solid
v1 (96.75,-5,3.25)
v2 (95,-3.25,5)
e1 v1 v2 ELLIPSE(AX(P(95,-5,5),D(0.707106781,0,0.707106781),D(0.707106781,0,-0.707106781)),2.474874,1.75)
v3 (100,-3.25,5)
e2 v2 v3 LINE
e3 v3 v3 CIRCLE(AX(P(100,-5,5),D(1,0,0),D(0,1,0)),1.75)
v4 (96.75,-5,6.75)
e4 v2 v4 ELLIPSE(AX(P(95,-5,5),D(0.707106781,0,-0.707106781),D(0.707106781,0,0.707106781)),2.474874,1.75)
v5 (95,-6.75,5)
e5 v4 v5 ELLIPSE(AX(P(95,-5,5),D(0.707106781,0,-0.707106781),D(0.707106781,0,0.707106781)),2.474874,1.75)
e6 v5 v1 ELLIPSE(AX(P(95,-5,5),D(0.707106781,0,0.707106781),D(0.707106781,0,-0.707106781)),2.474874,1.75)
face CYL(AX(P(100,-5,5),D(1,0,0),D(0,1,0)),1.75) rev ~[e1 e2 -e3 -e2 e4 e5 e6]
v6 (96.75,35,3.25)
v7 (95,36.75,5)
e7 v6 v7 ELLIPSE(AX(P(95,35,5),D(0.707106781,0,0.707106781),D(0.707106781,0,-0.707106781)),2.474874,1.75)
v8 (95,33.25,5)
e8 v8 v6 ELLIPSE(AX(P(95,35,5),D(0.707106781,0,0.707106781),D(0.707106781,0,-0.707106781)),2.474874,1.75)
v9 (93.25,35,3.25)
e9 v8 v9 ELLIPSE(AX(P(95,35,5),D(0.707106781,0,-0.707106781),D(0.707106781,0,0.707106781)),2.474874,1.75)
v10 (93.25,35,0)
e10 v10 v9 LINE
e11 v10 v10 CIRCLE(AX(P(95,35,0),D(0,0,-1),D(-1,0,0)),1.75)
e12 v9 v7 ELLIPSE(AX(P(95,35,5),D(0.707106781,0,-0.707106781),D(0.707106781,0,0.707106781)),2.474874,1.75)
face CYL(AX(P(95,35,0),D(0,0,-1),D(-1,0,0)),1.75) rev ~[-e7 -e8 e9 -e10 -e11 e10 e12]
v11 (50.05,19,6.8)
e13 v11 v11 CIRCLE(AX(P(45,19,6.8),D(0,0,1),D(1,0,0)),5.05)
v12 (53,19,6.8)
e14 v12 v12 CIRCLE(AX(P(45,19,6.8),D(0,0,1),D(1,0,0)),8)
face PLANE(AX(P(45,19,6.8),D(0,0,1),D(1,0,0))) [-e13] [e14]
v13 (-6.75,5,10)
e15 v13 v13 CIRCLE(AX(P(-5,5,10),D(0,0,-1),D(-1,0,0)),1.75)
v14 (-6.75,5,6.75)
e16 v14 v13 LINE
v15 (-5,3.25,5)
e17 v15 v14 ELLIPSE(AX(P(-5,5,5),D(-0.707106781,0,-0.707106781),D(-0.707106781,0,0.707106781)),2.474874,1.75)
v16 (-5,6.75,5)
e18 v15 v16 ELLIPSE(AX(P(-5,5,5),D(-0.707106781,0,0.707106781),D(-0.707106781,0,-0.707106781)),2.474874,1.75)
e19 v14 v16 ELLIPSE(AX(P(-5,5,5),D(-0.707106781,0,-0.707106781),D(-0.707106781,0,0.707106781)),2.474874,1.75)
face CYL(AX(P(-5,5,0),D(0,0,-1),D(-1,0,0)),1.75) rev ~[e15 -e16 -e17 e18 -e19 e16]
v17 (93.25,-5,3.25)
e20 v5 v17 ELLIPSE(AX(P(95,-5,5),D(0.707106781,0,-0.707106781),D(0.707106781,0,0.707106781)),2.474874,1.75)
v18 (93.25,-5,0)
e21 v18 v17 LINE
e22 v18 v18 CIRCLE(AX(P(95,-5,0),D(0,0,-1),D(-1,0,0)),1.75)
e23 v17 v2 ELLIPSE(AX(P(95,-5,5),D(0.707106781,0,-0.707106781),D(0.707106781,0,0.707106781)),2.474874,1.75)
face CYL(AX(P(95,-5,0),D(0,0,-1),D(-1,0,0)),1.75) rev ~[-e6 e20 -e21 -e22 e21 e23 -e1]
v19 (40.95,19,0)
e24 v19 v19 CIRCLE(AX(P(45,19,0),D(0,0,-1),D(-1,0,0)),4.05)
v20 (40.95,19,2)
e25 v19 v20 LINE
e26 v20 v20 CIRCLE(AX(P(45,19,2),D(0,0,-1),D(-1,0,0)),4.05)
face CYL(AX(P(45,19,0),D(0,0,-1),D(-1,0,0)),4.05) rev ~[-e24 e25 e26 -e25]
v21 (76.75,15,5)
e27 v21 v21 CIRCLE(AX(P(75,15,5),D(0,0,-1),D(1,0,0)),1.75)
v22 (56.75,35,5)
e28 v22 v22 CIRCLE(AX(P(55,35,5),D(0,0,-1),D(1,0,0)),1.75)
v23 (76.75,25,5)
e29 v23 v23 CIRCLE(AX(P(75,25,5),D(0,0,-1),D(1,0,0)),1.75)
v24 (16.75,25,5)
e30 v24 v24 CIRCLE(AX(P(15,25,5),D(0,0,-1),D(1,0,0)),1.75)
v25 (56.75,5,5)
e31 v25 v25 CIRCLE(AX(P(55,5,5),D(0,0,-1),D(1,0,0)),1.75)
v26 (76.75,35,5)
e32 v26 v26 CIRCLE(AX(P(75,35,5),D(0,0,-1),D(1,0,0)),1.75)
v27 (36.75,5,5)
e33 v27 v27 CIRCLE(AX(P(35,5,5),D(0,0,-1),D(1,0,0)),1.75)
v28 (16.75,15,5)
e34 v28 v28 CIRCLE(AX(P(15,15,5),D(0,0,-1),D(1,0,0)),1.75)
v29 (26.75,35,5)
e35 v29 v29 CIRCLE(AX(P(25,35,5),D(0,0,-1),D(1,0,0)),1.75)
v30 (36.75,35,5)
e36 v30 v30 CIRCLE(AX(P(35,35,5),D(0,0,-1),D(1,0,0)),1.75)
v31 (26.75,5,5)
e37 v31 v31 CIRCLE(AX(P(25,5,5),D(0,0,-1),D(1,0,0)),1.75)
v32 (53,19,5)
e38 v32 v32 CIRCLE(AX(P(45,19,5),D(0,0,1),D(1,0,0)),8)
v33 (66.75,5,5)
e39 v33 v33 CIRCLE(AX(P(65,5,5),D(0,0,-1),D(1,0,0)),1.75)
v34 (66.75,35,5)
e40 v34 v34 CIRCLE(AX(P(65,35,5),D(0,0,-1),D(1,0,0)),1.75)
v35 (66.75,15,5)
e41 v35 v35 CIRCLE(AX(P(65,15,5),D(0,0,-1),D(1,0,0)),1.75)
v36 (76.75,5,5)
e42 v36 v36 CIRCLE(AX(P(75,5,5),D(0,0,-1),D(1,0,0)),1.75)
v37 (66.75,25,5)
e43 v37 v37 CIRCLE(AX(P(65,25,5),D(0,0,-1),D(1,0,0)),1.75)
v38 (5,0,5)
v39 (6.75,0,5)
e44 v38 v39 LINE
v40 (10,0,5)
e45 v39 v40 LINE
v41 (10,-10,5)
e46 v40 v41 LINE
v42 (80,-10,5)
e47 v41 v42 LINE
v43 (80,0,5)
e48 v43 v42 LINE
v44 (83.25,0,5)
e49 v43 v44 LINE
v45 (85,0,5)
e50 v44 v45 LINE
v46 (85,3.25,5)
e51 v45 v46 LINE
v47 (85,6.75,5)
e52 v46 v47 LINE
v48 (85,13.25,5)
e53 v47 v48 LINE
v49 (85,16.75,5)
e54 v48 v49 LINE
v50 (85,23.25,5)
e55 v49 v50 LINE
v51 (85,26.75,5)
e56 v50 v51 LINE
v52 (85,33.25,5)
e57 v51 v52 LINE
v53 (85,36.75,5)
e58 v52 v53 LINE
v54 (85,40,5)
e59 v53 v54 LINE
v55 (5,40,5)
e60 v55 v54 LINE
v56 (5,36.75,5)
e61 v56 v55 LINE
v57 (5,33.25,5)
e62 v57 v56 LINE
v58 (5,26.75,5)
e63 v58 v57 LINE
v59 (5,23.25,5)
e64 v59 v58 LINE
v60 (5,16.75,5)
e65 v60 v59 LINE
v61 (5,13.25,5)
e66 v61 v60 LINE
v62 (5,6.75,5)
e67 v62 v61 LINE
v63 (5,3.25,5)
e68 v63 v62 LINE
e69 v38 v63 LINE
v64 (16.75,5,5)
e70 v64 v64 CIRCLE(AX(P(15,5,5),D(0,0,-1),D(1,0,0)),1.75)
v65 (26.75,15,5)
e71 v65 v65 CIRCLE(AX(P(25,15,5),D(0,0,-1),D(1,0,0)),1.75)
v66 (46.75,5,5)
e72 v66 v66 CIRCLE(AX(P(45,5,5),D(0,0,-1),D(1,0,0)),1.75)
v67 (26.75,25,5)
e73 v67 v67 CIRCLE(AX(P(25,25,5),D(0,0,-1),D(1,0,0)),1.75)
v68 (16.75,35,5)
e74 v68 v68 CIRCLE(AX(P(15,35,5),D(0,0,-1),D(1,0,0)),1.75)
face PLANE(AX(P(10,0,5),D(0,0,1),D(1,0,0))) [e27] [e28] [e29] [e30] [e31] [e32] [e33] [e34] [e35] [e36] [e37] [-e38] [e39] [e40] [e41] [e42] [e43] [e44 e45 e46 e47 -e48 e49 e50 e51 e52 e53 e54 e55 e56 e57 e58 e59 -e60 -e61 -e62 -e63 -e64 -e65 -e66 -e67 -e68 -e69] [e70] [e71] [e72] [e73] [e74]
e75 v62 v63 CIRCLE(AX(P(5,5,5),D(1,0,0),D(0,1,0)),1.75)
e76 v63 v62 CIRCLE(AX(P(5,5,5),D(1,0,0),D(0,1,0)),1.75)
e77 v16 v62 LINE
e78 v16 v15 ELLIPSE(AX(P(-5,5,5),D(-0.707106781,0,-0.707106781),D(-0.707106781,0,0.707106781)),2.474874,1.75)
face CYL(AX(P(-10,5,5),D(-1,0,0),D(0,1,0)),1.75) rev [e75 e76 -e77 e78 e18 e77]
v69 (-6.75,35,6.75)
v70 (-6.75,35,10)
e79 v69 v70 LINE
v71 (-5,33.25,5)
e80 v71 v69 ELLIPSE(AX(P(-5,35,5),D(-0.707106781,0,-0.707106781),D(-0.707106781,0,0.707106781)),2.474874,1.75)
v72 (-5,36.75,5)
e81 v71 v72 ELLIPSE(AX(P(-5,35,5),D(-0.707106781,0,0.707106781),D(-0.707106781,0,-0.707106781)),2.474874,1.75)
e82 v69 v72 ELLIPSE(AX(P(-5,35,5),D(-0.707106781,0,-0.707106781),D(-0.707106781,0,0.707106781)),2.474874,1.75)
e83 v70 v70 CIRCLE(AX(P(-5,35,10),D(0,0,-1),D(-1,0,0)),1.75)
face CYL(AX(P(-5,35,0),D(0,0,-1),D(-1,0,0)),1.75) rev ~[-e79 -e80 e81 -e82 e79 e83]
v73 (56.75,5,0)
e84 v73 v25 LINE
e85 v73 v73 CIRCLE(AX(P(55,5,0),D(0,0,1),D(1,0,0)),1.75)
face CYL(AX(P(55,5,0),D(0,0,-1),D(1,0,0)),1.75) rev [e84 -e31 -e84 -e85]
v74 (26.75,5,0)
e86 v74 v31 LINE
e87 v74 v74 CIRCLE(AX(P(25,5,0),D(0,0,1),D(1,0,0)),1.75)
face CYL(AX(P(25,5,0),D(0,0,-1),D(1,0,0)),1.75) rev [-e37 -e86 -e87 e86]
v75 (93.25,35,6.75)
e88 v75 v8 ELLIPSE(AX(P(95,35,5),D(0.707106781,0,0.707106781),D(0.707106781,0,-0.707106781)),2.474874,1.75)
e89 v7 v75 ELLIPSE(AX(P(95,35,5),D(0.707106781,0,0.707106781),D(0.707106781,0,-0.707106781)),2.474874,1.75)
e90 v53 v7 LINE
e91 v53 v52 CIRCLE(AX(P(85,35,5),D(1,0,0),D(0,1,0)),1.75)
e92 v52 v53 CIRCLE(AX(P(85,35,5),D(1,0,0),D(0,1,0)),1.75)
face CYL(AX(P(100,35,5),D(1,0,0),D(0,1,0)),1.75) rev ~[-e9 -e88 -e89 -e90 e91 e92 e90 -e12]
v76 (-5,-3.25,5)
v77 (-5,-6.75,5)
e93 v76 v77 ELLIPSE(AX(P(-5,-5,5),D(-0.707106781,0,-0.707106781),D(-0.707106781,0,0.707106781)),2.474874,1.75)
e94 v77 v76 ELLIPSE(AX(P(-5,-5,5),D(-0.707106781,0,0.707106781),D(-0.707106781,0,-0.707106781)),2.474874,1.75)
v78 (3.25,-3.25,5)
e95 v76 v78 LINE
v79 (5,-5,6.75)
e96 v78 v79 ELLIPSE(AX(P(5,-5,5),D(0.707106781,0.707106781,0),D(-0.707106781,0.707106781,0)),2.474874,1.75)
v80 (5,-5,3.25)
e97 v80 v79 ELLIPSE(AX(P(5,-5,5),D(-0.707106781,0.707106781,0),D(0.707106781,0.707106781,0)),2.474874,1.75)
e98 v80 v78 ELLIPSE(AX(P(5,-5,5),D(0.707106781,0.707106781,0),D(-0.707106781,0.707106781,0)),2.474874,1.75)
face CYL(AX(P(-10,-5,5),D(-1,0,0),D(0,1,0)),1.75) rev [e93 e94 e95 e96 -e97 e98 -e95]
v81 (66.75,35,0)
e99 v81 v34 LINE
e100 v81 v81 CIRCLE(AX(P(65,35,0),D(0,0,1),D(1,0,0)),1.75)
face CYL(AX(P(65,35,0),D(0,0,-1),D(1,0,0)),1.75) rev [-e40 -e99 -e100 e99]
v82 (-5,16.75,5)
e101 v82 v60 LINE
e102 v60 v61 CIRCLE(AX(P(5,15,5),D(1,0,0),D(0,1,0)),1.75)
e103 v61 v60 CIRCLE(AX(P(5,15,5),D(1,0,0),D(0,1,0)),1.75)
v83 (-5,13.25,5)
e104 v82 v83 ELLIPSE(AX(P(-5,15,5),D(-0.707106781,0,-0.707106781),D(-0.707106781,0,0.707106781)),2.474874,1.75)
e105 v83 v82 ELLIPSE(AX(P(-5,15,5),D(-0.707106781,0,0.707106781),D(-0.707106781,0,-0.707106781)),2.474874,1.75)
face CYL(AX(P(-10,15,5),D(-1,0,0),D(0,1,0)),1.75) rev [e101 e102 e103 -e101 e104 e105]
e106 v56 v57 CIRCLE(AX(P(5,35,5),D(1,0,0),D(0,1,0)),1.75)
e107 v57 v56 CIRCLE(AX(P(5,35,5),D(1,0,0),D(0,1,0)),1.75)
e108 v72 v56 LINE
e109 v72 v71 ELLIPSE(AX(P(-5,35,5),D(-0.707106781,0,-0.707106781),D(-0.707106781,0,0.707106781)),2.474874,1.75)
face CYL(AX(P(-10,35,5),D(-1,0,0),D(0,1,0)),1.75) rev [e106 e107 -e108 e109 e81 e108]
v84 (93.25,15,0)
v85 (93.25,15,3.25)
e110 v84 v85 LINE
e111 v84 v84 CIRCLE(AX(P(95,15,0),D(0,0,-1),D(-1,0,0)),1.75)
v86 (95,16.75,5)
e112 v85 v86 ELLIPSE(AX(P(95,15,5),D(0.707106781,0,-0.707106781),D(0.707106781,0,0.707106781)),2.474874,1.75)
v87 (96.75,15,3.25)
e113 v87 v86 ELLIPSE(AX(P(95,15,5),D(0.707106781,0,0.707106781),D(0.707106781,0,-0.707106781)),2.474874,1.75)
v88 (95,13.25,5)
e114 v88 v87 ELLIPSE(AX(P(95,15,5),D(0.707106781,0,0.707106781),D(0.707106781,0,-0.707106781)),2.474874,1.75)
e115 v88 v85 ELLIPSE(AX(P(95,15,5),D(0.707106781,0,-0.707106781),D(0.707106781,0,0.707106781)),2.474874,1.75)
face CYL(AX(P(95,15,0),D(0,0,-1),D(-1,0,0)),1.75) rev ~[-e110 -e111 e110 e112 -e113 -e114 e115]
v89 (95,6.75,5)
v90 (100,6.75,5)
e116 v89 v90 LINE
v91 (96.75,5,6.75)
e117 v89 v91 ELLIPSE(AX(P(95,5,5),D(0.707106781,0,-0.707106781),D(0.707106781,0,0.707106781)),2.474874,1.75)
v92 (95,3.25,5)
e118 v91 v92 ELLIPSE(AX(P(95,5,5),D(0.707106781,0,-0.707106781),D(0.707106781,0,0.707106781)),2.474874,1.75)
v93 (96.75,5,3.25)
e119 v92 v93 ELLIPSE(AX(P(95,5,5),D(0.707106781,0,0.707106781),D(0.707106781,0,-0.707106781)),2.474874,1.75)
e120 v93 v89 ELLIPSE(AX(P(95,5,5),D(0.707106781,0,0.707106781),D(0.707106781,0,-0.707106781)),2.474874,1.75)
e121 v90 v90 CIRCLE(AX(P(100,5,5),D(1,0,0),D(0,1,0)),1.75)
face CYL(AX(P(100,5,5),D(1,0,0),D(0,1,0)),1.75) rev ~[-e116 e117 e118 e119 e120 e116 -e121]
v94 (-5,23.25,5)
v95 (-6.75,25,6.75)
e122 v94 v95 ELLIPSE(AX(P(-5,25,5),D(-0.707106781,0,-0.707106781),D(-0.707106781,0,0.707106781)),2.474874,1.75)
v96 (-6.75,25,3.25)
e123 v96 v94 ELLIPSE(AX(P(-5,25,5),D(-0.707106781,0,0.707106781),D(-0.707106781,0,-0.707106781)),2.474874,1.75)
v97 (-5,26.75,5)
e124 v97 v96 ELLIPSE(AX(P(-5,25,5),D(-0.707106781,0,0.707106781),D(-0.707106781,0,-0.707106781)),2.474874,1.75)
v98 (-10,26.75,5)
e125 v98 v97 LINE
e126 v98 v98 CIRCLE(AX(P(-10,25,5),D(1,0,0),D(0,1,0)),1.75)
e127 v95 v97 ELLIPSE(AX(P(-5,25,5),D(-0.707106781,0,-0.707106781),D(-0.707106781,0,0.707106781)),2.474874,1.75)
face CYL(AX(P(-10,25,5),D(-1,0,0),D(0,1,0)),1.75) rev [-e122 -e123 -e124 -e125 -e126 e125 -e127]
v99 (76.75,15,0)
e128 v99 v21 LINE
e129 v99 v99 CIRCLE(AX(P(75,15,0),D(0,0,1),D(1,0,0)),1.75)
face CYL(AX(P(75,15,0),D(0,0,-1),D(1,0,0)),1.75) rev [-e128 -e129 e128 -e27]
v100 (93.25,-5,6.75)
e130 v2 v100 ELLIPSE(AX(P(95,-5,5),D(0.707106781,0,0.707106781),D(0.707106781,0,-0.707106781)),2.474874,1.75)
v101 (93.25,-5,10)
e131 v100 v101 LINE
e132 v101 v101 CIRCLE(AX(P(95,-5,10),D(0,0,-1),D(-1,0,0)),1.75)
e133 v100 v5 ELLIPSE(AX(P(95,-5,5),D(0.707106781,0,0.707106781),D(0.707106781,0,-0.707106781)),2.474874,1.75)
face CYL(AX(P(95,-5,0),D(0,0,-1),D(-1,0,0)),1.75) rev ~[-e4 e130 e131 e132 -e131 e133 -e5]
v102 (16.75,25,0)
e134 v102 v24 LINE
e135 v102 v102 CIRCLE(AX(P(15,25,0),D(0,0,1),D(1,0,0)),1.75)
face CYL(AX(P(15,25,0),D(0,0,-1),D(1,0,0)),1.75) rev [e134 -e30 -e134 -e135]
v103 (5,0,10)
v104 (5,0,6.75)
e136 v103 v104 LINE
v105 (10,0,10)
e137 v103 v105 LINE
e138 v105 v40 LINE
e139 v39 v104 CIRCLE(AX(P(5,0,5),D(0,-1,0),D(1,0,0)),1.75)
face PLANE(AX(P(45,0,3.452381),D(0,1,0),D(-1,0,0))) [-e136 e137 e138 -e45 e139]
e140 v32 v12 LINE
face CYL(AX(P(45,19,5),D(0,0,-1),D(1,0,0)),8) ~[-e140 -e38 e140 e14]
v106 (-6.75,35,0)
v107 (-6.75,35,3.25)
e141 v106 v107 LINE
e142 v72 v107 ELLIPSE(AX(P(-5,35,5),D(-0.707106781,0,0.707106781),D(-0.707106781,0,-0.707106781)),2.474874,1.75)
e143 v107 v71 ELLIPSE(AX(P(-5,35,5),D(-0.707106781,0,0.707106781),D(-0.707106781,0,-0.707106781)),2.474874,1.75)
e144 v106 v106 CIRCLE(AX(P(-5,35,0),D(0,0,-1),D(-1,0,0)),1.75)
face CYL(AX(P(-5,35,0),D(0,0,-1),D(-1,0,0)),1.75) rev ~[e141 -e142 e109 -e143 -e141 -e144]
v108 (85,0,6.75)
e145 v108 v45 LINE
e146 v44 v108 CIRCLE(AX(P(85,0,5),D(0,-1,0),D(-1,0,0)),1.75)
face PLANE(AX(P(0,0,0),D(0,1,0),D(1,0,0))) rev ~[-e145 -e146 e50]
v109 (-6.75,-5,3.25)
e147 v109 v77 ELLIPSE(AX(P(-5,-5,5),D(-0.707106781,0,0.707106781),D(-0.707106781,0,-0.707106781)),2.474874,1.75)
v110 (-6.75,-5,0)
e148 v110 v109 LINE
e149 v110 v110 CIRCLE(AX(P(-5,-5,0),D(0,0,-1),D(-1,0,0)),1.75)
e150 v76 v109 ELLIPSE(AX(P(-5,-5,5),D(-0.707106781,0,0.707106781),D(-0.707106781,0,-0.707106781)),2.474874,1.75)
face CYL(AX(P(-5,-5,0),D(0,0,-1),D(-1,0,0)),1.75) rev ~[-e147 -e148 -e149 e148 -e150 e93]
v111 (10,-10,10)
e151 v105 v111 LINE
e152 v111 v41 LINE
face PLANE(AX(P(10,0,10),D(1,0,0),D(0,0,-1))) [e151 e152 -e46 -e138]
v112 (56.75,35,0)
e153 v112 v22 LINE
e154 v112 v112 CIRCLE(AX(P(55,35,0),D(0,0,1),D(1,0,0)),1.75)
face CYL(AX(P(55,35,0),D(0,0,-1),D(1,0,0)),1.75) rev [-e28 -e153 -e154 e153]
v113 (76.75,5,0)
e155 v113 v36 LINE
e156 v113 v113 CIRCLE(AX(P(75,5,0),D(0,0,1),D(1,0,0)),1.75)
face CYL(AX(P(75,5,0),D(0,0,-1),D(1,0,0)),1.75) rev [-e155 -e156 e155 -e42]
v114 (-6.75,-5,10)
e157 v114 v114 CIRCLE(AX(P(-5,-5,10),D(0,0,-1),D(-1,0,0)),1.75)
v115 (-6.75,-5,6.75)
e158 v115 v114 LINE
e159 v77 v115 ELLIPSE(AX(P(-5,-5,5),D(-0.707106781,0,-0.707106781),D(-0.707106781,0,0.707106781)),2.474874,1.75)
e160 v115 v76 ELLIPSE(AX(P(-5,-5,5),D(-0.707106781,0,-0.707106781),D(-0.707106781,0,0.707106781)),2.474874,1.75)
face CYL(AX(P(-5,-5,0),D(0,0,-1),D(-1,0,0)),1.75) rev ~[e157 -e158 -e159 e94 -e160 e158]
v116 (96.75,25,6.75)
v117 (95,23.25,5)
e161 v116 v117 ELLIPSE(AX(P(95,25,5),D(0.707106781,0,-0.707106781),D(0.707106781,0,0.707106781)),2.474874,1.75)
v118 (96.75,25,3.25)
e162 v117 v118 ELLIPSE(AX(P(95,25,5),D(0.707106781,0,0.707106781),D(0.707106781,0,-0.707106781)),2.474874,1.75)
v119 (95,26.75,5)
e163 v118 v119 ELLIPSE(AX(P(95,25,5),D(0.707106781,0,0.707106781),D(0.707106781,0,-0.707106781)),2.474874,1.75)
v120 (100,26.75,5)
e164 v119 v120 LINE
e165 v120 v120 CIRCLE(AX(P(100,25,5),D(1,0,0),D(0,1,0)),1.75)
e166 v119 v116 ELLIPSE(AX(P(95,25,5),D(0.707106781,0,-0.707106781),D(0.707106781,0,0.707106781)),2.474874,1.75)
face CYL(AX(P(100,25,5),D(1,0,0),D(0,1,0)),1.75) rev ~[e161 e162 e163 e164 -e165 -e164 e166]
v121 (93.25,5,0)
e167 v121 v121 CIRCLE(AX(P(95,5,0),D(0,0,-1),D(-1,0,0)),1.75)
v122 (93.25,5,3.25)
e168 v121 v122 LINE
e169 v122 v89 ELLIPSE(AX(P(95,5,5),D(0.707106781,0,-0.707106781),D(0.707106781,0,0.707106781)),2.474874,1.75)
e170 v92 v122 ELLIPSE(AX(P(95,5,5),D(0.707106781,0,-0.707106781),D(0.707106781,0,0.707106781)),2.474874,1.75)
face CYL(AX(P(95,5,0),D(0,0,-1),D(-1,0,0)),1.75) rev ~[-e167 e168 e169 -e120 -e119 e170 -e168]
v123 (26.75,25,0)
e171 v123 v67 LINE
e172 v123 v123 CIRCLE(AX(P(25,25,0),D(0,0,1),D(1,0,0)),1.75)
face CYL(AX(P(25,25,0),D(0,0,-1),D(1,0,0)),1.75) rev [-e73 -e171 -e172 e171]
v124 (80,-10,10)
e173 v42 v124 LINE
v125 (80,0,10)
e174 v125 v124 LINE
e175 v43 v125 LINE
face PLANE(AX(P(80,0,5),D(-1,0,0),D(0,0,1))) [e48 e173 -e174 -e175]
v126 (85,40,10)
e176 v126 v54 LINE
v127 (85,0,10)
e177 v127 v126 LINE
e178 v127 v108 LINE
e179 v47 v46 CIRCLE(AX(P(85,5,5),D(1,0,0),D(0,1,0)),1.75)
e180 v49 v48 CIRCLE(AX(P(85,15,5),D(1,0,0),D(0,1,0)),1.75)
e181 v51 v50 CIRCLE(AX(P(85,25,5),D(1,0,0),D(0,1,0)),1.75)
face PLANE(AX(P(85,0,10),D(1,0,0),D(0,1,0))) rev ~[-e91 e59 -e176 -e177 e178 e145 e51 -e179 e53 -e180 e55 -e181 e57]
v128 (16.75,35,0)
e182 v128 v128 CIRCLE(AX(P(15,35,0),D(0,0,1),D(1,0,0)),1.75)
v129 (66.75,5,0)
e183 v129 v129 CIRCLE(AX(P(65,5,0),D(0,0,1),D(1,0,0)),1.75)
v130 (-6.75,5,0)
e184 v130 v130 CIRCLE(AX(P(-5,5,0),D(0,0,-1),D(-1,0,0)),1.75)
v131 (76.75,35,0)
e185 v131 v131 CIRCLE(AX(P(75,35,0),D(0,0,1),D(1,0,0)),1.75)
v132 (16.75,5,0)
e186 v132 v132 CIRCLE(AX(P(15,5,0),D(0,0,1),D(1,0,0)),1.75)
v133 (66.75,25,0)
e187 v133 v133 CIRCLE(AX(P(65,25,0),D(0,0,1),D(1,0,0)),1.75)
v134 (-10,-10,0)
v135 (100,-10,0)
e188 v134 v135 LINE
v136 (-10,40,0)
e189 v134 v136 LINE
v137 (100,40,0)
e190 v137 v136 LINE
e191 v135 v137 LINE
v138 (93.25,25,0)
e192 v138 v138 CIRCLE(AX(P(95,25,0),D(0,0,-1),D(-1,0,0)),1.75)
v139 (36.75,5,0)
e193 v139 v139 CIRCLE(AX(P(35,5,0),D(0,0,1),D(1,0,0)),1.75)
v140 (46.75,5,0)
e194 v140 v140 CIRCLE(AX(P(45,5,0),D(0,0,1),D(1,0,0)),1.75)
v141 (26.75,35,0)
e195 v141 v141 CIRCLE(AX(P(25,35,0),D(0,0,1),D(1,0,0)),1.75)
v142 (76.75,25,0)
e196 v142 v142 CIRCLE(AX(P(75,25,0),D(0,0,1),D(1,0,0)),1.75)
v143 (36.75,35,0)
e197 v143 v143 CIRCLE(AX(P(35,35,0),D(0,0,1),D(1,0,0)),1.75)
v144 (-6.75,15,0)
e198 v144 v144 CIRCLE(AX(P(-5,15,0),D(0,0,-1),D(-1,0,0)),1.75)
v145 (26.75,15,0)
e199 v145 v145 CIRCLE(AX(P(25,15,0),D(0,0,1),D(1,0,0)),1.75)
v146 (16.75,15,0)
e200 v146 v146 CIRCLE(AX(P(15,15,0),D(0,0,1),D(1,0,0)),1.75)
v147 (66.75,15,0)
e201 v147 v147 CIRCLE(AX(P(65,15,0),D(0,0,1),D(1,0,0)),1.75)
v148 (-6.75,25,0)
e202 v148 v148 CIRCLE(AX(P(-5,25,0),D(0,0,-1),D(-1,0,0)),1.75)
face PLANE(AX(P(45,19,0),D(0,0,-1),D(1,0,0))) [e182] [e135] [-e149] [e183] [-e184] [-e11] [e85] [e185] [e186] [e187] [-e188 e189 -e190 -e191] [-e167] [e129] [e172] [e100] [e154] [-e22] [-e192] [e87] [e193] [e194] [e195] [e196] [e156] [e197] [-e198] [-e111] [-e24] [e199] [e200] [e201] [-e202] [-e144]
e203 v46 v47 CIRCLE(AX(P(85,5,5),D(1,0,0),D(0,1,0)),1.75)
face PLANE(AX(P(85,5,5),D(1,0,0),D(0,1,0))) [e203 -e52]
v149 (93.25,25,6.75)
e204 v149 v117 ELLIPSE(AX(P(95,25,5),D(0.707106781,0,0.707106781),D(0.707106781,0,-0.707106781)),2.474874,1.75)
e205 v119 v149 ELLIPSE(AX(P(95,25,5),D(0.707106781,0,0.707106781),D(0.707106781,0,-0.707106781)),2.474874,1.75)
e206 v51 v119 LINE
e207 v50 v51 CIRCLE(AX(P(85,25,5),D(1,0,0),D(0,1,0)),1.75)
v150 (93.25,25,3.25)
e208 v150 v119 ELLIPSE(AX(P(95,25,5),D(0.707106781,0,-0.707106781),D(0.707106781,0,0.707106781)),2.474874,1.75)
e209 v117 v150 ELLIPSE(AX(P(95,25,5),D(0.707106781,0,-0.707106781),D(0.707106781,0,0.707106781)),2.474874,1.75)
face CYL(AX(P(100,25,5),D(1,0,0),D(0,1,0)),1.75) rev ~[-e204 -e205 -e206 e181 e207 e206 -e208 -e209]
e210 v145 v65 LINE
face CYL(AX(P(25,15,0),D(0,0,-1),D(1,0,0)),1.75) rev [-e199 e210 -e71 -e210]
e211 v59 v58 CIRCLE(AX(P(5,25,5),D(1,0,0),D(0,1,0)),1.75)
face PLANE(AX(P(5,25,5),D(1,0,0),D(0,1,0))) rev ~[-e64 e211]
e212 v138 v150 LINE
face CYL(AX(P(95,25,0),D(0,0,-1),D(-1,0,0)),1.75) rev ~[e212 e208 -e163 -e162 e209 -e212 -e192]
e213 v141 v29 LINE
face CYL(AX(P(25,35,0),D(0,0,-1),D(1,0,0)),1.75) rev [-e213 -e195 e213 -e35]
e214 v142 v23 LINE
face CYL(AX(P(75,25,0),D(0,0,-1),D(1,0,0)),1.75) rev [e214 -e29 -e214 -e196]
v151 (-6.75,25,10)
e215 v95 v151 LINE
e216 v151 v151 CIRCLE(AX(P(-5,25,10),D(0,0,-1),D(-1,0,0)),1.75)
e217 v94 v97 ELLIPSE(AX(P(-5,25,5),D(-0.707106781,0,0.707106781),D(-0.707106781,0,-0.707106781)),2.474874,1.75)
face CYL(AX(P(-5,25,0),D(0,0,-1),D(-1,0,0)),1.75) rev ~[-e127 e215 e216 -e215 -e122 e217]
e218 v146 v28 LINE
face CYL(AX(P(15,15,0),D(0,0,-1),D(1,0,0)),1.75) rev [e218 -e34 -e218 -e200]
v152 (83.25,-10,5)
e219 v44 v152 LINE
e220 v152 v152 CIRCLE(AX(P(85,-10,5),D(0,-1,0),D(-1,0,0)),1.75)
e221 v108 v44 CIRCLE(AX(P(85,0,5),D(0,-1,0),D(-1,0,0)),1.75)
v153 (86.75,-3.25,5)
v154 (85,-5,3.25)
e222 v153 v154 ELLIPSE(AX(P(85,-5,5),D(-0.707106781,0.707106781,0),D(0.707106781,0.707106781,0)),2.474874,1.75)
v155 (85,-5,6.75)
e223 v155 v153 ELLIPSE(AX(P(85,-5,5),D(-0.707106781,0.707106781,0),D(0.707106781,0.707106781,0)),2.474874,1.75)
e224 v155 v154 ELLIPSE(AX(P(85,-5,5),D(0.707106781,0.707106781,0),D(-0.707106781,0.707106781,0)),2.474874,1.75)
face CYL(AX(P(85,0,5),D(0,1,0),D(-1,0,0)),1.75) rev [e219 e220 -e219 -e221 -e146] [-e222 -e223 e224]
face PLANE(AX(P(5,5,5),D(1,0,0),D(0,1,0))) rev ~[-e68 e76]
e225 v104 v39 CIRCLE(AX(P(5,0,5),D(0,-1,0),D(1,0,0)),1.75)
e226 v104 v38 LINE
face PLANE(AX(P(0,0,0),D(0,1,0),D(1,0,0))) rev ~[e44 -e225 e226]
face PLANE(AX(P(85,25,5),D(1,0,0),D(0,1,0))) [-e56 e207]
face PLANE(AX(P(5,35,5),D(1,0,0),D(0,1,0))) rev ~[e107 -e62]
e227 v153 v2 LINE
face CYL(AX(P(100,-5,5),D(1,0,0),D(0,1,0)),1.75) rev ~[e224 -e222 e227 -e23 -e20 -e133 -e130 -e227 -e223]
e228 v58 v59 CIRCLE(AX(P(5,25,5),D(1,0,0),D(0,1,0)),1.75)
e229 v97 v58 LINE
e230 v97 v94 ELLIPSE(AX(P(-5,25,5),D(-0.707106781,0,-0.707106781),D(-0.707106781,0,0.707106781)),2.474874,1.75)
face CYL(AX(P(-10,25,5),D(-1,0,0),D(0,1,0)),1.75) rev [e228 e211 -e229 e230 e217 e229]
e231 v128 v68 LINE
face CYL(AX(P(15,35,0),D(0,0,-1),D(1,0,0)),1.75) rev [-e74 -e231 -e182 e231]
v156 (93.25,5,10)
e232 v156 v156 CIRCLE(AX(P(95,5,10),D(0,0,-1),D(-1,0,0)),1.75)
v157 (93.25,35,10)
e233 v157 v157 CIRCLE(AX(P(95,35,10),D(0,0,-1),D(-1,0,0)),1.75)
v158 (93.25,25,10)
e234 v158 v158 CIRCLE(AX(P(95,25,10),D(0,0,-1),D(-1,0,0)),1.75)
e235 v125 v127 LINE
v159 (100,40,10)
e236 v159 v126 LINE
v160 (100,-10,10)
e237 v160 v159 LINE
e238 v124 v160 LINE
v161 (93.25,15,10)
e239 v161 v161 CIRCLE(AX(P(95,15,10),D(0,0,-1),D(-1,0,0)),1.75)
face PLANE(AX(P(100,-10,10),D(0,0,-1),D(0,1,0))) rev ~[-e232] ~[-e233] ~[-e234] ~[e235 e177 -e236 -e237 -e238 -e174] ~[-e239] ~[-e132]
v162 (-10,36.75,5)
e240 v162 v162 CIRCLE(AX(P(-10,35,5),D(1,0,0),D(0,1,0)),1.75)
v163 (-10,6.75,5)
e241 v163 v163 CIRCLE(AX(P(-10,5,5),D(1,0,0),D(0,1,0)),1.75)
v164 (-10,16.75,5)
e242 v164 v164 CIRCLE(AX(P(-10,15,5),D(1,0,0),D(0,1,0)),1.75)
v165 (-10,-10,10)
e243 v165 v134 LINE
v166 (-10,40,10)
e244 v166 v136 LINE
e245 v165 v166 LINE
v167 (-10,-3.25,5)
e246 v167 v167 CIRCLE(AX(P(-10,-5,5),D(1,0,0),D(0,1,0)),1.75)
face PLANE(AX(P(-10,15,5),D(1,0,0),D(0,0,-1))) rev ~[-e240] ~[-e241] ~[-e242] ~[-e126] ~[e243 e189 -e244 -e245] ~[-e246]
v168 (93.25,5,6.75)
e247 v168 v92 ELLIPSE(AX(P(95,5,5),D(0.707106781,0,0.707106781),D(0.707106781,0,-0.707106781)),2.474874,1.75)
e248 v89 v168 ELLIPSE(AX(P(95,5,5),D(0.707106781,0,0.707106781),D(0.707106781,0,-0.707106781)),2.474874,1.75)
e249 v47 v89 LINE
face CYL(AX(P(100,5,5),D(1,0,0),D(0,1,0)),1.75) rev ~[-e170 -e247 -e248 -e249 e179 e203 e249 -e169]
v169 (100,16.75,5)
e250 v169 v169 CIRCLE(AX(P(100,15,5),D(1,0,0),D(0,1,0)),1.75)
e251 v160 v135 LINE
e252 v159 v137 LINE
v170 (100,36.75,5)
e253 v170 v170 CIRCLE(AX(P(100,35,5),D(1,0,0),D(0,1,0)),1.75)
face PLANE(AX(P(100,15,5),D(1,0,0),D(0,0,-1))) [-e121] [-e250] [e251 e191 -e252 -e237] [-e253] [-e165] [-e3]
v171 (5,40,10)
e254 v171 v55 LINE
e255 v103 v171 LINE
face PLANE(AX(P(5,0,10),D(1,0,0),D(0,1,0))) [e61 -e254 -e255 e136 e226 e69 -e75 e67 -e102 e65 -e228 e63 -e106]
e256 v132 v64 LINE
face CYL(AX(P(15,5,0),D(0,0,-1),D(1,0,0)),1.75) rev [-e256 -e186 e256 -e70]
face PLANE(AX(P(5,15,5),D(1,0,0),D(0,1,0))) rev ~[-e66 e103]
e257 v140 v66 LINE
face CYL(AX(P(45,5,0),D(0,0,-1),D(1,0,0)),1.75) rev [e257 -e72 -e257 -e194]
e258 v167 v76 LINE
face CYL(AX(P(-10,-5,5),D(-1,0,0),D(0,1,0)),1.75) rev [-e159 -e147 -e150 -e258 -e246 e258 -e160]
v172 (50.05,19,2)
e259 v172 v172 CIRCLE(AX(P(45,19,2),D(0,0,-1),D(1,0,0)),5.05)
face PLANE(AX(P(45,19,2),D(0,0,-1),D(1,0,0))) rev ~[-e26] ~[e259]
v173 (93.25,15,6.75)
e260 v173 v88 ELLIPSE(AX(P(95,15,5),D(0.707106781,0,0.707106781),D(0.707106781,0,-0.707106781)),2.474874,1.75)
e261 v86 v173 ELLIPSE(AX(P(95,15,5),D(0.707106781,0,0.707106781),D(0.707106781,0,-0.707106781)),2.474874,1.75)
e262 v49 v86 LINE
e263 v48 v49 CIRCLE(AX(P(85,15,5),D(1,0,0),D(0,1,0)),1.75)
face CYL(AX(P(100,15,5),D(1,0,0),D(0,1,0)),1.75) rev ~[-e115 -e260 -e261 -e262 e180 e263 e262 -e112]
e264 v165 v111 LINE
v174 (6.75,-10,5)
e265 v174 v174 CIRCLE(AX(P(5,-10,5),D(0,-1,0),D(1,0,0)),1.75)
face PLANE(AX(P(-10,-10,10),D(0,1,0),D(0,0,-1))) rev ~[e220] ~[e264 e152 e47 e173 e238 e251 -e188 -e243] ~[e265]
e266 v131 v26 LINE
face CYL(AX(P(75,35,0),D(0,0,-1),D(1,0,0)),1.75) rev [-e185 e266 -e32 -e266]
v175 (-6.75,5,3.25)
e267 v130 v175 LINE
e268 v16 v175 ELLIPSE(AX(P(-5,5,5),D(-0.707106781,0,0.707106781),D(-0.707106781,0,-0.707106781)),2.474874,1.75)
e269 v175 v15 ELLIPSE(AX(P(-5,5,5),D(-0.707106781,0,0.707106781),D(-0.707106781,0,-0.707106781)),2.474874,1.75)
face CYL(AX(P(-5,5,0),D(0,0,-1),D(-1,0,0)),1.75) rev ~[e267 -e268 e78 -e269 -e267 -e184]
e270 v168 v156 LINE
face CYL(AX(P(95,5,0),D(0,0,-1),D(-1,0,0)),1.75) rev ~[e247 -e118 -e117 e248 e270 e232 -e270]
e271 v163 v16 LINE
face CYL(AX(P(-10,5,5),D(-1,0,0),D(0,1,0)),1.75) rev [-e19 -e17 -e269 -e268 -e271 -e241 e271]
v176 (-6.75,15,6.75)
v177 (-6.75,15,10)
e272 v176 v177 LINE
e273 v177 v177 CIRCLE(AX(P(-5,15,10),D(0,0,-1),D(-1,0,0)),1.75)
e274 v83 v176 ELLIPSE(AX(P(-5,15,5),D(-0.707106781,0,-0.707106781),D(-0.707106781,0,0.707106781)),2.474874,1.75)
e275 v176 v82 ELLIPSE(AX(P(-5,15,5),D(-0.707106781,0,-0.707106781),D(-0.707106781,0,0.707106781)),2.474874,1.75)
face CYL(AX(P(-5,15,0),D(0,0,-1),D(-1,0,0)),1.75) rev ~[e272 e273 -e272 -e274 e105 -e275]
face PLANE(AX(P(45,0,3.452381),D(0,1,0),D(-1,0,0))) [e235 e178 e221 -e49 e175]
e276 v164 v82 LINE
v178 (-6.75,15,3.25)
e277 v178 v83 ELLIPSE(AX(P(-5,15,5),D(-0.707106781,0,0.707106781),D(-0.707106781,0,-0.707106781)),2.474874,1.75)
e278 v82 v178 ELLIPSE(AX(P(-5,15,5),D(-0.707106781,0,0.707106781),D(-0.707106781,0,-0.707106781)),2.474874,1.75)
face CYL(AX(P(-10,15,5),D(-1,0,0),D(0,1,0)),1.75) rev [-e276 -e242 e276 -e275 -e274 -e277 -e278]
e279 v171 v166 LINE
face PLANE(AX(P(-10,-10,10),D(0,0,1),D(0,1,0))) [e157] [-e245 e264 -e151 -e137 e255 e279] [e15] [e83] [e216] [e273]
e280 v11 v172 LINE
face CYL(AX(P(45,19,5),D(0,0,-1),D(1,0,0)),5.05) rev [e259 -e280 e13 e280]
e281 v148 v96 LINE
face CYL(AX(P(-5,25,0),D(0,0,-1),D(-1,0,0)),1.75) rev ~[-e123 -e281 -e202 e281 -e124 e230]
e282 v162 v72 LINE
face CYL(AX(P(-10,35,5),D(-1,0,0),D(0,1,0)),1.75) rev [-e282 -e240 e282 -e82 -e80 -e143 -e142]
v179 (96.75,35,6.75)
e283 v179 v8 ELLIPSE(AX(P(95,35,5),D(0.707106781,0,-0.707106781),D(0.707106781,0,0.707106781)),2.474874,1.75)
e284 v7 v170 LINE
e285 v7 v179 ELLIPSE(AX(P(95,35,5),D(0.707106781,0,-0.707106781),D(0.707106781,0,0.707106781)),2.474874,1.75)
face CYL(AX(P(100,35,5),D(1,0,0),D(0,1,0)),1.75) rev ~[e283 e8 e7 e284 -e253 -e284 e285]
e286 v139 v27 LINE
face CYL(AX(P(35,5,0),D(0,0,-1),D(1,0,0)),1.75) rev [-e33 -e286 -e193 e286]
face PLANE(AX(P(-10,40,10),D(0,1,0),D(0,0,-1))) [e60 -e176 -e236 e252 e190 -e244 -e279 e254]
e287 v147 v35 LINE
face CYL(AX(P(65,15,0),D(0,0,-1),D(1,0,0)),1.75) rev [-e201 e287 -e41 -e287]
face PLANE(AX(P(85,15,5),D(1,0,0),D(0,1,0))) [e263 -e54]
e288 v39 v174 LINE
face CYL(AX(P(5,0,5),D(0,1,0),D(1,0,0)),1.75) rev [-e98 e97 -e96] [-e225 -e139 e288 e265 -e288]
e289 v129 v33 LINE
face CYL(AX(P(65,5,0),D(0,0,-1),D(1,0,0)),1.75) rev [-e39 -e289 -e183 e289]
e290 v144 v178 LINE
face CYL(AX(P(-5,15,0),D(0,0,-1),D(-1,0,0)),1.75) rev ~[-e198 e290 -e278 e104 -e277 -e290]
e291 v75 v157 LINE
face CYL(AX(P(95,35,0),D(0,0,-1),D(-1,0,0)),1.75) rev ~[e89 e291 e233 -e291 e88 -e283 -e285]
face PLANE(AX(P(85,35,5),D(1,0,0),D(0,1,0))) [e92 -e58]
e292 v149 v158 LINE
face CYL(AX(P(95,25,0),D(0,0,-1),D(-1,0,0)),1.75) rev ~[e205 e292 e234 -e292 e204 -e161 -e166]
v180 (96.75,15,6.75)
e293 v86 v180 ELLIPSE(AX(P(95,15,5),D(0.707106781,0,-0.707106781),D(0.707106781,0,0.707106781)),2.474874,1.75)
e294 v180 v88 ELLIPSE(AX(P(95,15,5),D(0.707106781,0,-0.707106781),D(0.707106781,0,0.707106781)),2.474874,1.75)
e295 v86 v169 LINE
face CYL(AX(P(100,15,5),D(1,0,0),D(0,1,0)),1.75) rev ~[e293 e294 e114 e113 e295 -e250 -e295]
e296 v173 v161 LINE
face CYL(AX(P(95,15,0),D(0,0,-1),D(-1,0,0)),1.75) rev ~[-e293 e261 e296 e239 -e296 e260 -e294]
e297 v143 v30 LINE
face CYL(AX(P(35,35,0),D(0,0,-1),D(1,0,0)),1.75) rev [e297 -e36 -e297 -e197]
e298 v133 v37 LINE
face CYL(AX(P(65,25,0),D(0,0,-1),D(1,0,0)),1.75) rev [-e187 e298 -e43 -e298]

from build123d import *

# Parameters (mm, degrees)
ESQUISSE1_W             = 90
ESQUISSE1_H             = 40
ESQUISSE1_R             = 5.05
ESQUISSE1_R_2           = 1.75
BOSS_EXTRU_1_DEPTH      = 10
ESQUISSE3_W             = 80
ESQUISSE3_H             = 40
ENL_V_MAT_EXTRU_3_DEPTH = 5
ESQUISSE4_R             = 1.75
BOSS_EXTRU_2_DEPTH      = 10
ESQUISSE2_R             = 1.75
ENL_V_MAT_EXTRU_1_DEPTH = 5
ENL_V_START             = -85
ESQUISSE2_2_R           = 1.75
ENL_V_MAT_EXTRU_2_DEPTH = 5
BOSS_EXTRU_3_START      = 10
ESQUISSE5_W             = 10
ESQUISSE5_H             = 50
ESQUISSE5_R             = 1.75
BOSS_EXTRU_3_DEPTH      = 10
BOSS_EXTRU_4_START      = -100
ESQUISSE5_2_W           = 10
ESQUISSE5_2_H           = 50
ESQUISSE5_2_R           = 1.75
BOSS_EXTRU_4_DEPTH      = 10
ESQUISSE6_R             = 1.75
ENL_V_MAT_EXTRU_4_DEPTH = 10
ESQUISSE7_R             = 5.05
ESQUISSE7_R_2           = 4.05
BOSS_EXTRU_5_DEPTH      = 2
ESQUISSE8_R             = 8
ESQUISSE8_R_2           = 5.05
BOSS_EXTRU_6_DEPTH      = 1.8


with BuildPart() as part:
    # Esquisse1 → Boss.-Extru.1 (new body)
    with BuildSketch(Plane.XY):
        with Locations((45, 20)):
            Rectangle(ESQUISSE1_W, ESQUISSE1_H)
        with Locations((45, 19)):
            Circle(ESQUISSE1_R, mode=Mode.SUBTRACT)
        with Locations((15, 35)):
            Circle(ESQUISSE1_R_2, mode=Mode.SUBTRACT)
        with Locations((25, 35)):
            Circle(ESQUISSE1_R_2, mode=Mode.SUBTRACT)
        with Locations((35, 35)):
            Circle(ESQUISSE1_R_2, mode=Mode.SUBTRACT)
        with Locations((55, 35)):
            Circle(ESQUISSE1_R_2, mode=Mode.SUBTRACT)
        with Locations((65, 35)):
            Circle(ESQUISSE1_R_2, mode=Mode.SUBTRACT)
        with Locations((75, 35)):
            Circle(ESQUISSE1_R_2, mode=Mode.SUBTRACT)
        with Locations((15, 25)):
            Circle(ESQUISSE1_R_2, mode=Mode.SUBTRACT)
        with Locations((25, 25)):
            Circle(ESQUISSE1_R_2, mode=Mode.SUBTRACT)
        with Locations((65, 25)):
            Circle(ESQUISSE1_R_2, mode=Mode.SUBTRACT)
        with Locations((75, 25)):
            Circle(ESQUISSE1_R_2, mode=Mode.SUBTRACT)
        with Locations((15, 15)):
            Circle(ESQUISSE1_R_2, mode=Mode.SUBTRACT)
        with Locations((25, 15)):
            Circle(ESQUISSE1_R_2, mode=Mode.SUBTRACT)
        with Locations((65, 15)):
            Circle(ESQUISSE1_R_2, mode=Mode.SUBTRACT)
        with Locations((75, 15)):
            Circle(ESQUISSE1_R_2, mode=Mode.SUBTRACT)
        with Locations((15, 5)):
            Circle(ESQUISSE1_R_2, mode=Mode.SUBTRACT)
        with Locations((25, 5)):
            Circle(ESQUISSE1_R_2, mode=Mode.SUBTRACT)
        with Locations((35, 5)):
            Circle(ESQUISSE1_R_2, mode=Mode.SUBTRACT)
        with Locations((45, 5)):
            Circle(ESQUISSE1_R_2, mode=Mode.SUBTRACT)
        with Locations((55, 5)):
            Circle(ESQUISSE1_R_2, mode=Mode.SUBTRACT)
        with Locations((65, 5)):
            Circle(ESQUISSE1_R_2, mode=Mode.SUBTRACT)
        with Locations((75, 5)):
            Circle(ESQUISSE1_R_2, mode=Mode.SUBTRACT)
    extrude(amount=BOSS_EXTRU_1_DEPTH)

    # Esquisse3 → Enlèv. mat.-Extru.3 (cut)
    with BuildSketch(Plane.XY.offset(10)):
        with Locations((45, 20)):
            Rectangle(ESQUISSE3_W, ESQUISSE3_H)
    extrude(amount=-ENL_V_MAT_EXTRU_3_DEPTH, mode=Mode.SUBTRACT)

    # Esquisse4 → Boss.-Extru.2 (add)
    with BuildSketch(Plane.XZ):
        Polygon((0, 0), (0, 10), (10, 10), (10, 5), (80, 5), (80, 10), (90, 10), (90, 0), align=None)
        with Locations((5, 5)):
            Circle(ESQUISSE4_R, mode=Mode.SUBTRACT)
        with Locations(Location((85, 5, 0), (0, 0, 180))):
            Circle(ESQUISSE4_R, mode=Mode.SUBTRACT)
    extrude(amount=BOSS_EXTRU_2_DEPTH)

    # Esquisse2 → Enlèv. mat.-Extru.1 (cut)
    with BuildSketch(Plane(origin=(90, 0, 0), x_dir=(0, 0, -1), z_dir=(1, 0, 0))):
        with Locations(Location((-5, 35, 0), (0, 0, 90))):
            Circle(ESQUISSE2_R)
        with Locations(Location((-5, 25, 0), (0, 0, 90))):
            Circle(ESQUISSE2_R)
        with Locations(Location((-5, 15, 0), (0, 0, 90))):
            Circle(ESQUISSE2_R)
        with Locations(Location((-5, 5, 0), (0, 0, 90))):
            Circle(ESQUISSE2_R)
        with Locations(Location((-5, -5, 0), (0, 0, 90))):
            Circle(ESQUISSE2_R)
    extrude(amount=-ENL_V_MAT_EXTRU_1_DEPTH, mode=Mode.SUBTRACT)

    # Esquisse2<2> → Enlèv. mat.-Extru.2 (cut)
    with BuildSketch(Plane(origin=(90, 0, 0), x_dir=(0, 0, -1), z_dir=(1, 0, 0)).offset(ENL_V_START)):
        with Locations(Location((-5, 35, 0), (0, 0, 90))):
            Circle(ESQUISSE2_2_R)
        with Locations(Location((-5, 25, 0), (0, 0, 90))):
            Circle(ESQUISSE2_2_R)
        with Locations(Location((-5, 15, 0), (0, 0, 90))):
            Circle(ESQUISSE2_2_R)
        with Locations(Location((-5, 5, 0), (0, 0, 90))):
            Circle(ESQUISSE2_2_R)
        with Locations(Location((-5, -5, 0), (0, 0, 90))):
            Circle(ESQUISSE2_2_R)
    extrude(amount=-ENL_V_MAT_EXTRU_2_DEPTH, mode=Mode.SUBTRACT)

    # Esquisse5 → Boss.-Extru.3 (add)
    with BuildSketch(Plane(origin=(90, 0, 0), x_dir=(0, 0, -1), z_dir=(1, 0, 0)).offset(BOSS_EXTRU_3_START)):
        with Locations((-5, 15)):
            Rectangle(ESQUISSE5_W, ESQUISSE5_H)
        with Locations(Location((-5, 35, 0), (0, 0, 90))):
            Circle(ESQUISSE5_R, mode=Mode.SUBTRACT)
        with Locations(Location((-5, 25, 0), (0, 0, 90))):
            Circle(ESQUISSE5_R, mode=Mode.SUBTRACT)
        with Locations(Location((-5, 15, 0), (0, 0, 90))):
            Circle(ESQUISSE5_R, mode=Mode.SUBTRACT)
        with Locations(Location((-5, 5, 0), (0, 0, 90))):
            Circle(ESQUISSE5_R, mode=Mode.SUBTRACT)
        with Locations(Location((-5, -5, 0), (0, 0, 90))):
            Circle(ESQUISSE5_R, mode=Mode.SUBTRACT)
    extrude(amount=-BOSS_EXTRU_3_DEPTH)

    # Esquisse5<2> → Boss.-Extru.4 (add)
    with BuildSketch(Plane(origin=(90, 0, 0), x_dir=(0, 0, -1), z_dir=(1, 0, 0)).offset(BOSS_EXTRU_4_START)):
        with Locations((-5, 15)):
            Rectangle(ESQUISSE5_2_W, ESQUISSE5_2_H)
        with Locations(Location((-5, 35, 0), (0, 0, 90))):
            Circle(ESQUISSE5_2_R, mode=Mode.SUBTRACT)
        with Locations(Location((-5, 25, 0), (0, 0, 90))):
            Circle(ESQUISSE5_2_R, mode=Mode.SUBTRACT)
        with Locations(Location((-5, 15, 0), (0, 0, 90))):
            Circle(ESQUISSE5_2_R, mode=Mode.SUBTRACT)
        with Locations(Location((-5, 5, 0), (0, 0, 90))):
            Circle(ESQUISSE5_2_R, mode=Mode.SUBTRACT)
        with Locations(Location((-5, -5, 0), (0, 0, 90))):
            Circle(ESQUISSE5_2_R, mode=Mode.SUBTRACT)
    extrude(amount=BOSS_EXTRU_4_DEPTH)

    # Esquisse6 → Enlèv. mat.-Extru.4 (cut)
    with BuildSketch(Plane(origin=(0, 0, 0), x_dir=(-1, 0, 0), z_dir=(0, 0, -1))):
        with Locations((-95, 35)):
            Circle(ESQUISSE6_R)
        with Locations((5, 35)):
            Circle(ESQUISSE6_R)
        with Locations((5, 25)):
            Circle(ESQUISSE6_R)
        with Locations((5, 15)):
            Circle(ESQUISSE6_R)
        with Locations((5, 5)):
            Circle(ESQUISSE6_R)
        with Locations((5, -5)):
            Circle(ESQUISSE6_R)
        with Locations((-95, 25)):
            Circle(ESQUISSE6_R)
        with Locations((-95, 15)):
            Circle(ESQUISSE6_R)
        with Locations((-95, 5)):
            Circle(ESQUISSE6_R)
        with Locations((-95, -5)):
            Circle(ESQUISSE6_R)
    extrude(amount=-ENL_V_MAT_EXTRU_4_DEPTH, mode=Mode.SUBTRACT)

    # Esquisse7 → Boss.-Extru.5 (add)
    with BuildSketch(Plane(origin=(0, 0, 0), x_dir=(-1, 0, 0), z_dir=(0, 0, -1))):
        with Locations(Location((-45, 19, 0), (0, 0, 180))):
            Circle(ESQUISSE7_R)
        with Locations((-45, 19)):
            Circle(ESQUISSE7_R_2, mode=Mode.SUBTRACT)
    extrude(amount=-BOSS_EXTRU_5_DEPTH)

    # Esquisse8 → Boss.-Extru.6 (add)
    with BuildSketch(Plane.XY.offset(5)):
        with Locations((45, 19)):
            Circle(ESQUISSE8_R)
        with Locations((45, 19)):
            Circle(ESQUISSE8_R_2, mode=Mode.SUBTRACT)
    extrude(amount=BOSS_EXTRU_6_DEPTH)


solid = part.part
